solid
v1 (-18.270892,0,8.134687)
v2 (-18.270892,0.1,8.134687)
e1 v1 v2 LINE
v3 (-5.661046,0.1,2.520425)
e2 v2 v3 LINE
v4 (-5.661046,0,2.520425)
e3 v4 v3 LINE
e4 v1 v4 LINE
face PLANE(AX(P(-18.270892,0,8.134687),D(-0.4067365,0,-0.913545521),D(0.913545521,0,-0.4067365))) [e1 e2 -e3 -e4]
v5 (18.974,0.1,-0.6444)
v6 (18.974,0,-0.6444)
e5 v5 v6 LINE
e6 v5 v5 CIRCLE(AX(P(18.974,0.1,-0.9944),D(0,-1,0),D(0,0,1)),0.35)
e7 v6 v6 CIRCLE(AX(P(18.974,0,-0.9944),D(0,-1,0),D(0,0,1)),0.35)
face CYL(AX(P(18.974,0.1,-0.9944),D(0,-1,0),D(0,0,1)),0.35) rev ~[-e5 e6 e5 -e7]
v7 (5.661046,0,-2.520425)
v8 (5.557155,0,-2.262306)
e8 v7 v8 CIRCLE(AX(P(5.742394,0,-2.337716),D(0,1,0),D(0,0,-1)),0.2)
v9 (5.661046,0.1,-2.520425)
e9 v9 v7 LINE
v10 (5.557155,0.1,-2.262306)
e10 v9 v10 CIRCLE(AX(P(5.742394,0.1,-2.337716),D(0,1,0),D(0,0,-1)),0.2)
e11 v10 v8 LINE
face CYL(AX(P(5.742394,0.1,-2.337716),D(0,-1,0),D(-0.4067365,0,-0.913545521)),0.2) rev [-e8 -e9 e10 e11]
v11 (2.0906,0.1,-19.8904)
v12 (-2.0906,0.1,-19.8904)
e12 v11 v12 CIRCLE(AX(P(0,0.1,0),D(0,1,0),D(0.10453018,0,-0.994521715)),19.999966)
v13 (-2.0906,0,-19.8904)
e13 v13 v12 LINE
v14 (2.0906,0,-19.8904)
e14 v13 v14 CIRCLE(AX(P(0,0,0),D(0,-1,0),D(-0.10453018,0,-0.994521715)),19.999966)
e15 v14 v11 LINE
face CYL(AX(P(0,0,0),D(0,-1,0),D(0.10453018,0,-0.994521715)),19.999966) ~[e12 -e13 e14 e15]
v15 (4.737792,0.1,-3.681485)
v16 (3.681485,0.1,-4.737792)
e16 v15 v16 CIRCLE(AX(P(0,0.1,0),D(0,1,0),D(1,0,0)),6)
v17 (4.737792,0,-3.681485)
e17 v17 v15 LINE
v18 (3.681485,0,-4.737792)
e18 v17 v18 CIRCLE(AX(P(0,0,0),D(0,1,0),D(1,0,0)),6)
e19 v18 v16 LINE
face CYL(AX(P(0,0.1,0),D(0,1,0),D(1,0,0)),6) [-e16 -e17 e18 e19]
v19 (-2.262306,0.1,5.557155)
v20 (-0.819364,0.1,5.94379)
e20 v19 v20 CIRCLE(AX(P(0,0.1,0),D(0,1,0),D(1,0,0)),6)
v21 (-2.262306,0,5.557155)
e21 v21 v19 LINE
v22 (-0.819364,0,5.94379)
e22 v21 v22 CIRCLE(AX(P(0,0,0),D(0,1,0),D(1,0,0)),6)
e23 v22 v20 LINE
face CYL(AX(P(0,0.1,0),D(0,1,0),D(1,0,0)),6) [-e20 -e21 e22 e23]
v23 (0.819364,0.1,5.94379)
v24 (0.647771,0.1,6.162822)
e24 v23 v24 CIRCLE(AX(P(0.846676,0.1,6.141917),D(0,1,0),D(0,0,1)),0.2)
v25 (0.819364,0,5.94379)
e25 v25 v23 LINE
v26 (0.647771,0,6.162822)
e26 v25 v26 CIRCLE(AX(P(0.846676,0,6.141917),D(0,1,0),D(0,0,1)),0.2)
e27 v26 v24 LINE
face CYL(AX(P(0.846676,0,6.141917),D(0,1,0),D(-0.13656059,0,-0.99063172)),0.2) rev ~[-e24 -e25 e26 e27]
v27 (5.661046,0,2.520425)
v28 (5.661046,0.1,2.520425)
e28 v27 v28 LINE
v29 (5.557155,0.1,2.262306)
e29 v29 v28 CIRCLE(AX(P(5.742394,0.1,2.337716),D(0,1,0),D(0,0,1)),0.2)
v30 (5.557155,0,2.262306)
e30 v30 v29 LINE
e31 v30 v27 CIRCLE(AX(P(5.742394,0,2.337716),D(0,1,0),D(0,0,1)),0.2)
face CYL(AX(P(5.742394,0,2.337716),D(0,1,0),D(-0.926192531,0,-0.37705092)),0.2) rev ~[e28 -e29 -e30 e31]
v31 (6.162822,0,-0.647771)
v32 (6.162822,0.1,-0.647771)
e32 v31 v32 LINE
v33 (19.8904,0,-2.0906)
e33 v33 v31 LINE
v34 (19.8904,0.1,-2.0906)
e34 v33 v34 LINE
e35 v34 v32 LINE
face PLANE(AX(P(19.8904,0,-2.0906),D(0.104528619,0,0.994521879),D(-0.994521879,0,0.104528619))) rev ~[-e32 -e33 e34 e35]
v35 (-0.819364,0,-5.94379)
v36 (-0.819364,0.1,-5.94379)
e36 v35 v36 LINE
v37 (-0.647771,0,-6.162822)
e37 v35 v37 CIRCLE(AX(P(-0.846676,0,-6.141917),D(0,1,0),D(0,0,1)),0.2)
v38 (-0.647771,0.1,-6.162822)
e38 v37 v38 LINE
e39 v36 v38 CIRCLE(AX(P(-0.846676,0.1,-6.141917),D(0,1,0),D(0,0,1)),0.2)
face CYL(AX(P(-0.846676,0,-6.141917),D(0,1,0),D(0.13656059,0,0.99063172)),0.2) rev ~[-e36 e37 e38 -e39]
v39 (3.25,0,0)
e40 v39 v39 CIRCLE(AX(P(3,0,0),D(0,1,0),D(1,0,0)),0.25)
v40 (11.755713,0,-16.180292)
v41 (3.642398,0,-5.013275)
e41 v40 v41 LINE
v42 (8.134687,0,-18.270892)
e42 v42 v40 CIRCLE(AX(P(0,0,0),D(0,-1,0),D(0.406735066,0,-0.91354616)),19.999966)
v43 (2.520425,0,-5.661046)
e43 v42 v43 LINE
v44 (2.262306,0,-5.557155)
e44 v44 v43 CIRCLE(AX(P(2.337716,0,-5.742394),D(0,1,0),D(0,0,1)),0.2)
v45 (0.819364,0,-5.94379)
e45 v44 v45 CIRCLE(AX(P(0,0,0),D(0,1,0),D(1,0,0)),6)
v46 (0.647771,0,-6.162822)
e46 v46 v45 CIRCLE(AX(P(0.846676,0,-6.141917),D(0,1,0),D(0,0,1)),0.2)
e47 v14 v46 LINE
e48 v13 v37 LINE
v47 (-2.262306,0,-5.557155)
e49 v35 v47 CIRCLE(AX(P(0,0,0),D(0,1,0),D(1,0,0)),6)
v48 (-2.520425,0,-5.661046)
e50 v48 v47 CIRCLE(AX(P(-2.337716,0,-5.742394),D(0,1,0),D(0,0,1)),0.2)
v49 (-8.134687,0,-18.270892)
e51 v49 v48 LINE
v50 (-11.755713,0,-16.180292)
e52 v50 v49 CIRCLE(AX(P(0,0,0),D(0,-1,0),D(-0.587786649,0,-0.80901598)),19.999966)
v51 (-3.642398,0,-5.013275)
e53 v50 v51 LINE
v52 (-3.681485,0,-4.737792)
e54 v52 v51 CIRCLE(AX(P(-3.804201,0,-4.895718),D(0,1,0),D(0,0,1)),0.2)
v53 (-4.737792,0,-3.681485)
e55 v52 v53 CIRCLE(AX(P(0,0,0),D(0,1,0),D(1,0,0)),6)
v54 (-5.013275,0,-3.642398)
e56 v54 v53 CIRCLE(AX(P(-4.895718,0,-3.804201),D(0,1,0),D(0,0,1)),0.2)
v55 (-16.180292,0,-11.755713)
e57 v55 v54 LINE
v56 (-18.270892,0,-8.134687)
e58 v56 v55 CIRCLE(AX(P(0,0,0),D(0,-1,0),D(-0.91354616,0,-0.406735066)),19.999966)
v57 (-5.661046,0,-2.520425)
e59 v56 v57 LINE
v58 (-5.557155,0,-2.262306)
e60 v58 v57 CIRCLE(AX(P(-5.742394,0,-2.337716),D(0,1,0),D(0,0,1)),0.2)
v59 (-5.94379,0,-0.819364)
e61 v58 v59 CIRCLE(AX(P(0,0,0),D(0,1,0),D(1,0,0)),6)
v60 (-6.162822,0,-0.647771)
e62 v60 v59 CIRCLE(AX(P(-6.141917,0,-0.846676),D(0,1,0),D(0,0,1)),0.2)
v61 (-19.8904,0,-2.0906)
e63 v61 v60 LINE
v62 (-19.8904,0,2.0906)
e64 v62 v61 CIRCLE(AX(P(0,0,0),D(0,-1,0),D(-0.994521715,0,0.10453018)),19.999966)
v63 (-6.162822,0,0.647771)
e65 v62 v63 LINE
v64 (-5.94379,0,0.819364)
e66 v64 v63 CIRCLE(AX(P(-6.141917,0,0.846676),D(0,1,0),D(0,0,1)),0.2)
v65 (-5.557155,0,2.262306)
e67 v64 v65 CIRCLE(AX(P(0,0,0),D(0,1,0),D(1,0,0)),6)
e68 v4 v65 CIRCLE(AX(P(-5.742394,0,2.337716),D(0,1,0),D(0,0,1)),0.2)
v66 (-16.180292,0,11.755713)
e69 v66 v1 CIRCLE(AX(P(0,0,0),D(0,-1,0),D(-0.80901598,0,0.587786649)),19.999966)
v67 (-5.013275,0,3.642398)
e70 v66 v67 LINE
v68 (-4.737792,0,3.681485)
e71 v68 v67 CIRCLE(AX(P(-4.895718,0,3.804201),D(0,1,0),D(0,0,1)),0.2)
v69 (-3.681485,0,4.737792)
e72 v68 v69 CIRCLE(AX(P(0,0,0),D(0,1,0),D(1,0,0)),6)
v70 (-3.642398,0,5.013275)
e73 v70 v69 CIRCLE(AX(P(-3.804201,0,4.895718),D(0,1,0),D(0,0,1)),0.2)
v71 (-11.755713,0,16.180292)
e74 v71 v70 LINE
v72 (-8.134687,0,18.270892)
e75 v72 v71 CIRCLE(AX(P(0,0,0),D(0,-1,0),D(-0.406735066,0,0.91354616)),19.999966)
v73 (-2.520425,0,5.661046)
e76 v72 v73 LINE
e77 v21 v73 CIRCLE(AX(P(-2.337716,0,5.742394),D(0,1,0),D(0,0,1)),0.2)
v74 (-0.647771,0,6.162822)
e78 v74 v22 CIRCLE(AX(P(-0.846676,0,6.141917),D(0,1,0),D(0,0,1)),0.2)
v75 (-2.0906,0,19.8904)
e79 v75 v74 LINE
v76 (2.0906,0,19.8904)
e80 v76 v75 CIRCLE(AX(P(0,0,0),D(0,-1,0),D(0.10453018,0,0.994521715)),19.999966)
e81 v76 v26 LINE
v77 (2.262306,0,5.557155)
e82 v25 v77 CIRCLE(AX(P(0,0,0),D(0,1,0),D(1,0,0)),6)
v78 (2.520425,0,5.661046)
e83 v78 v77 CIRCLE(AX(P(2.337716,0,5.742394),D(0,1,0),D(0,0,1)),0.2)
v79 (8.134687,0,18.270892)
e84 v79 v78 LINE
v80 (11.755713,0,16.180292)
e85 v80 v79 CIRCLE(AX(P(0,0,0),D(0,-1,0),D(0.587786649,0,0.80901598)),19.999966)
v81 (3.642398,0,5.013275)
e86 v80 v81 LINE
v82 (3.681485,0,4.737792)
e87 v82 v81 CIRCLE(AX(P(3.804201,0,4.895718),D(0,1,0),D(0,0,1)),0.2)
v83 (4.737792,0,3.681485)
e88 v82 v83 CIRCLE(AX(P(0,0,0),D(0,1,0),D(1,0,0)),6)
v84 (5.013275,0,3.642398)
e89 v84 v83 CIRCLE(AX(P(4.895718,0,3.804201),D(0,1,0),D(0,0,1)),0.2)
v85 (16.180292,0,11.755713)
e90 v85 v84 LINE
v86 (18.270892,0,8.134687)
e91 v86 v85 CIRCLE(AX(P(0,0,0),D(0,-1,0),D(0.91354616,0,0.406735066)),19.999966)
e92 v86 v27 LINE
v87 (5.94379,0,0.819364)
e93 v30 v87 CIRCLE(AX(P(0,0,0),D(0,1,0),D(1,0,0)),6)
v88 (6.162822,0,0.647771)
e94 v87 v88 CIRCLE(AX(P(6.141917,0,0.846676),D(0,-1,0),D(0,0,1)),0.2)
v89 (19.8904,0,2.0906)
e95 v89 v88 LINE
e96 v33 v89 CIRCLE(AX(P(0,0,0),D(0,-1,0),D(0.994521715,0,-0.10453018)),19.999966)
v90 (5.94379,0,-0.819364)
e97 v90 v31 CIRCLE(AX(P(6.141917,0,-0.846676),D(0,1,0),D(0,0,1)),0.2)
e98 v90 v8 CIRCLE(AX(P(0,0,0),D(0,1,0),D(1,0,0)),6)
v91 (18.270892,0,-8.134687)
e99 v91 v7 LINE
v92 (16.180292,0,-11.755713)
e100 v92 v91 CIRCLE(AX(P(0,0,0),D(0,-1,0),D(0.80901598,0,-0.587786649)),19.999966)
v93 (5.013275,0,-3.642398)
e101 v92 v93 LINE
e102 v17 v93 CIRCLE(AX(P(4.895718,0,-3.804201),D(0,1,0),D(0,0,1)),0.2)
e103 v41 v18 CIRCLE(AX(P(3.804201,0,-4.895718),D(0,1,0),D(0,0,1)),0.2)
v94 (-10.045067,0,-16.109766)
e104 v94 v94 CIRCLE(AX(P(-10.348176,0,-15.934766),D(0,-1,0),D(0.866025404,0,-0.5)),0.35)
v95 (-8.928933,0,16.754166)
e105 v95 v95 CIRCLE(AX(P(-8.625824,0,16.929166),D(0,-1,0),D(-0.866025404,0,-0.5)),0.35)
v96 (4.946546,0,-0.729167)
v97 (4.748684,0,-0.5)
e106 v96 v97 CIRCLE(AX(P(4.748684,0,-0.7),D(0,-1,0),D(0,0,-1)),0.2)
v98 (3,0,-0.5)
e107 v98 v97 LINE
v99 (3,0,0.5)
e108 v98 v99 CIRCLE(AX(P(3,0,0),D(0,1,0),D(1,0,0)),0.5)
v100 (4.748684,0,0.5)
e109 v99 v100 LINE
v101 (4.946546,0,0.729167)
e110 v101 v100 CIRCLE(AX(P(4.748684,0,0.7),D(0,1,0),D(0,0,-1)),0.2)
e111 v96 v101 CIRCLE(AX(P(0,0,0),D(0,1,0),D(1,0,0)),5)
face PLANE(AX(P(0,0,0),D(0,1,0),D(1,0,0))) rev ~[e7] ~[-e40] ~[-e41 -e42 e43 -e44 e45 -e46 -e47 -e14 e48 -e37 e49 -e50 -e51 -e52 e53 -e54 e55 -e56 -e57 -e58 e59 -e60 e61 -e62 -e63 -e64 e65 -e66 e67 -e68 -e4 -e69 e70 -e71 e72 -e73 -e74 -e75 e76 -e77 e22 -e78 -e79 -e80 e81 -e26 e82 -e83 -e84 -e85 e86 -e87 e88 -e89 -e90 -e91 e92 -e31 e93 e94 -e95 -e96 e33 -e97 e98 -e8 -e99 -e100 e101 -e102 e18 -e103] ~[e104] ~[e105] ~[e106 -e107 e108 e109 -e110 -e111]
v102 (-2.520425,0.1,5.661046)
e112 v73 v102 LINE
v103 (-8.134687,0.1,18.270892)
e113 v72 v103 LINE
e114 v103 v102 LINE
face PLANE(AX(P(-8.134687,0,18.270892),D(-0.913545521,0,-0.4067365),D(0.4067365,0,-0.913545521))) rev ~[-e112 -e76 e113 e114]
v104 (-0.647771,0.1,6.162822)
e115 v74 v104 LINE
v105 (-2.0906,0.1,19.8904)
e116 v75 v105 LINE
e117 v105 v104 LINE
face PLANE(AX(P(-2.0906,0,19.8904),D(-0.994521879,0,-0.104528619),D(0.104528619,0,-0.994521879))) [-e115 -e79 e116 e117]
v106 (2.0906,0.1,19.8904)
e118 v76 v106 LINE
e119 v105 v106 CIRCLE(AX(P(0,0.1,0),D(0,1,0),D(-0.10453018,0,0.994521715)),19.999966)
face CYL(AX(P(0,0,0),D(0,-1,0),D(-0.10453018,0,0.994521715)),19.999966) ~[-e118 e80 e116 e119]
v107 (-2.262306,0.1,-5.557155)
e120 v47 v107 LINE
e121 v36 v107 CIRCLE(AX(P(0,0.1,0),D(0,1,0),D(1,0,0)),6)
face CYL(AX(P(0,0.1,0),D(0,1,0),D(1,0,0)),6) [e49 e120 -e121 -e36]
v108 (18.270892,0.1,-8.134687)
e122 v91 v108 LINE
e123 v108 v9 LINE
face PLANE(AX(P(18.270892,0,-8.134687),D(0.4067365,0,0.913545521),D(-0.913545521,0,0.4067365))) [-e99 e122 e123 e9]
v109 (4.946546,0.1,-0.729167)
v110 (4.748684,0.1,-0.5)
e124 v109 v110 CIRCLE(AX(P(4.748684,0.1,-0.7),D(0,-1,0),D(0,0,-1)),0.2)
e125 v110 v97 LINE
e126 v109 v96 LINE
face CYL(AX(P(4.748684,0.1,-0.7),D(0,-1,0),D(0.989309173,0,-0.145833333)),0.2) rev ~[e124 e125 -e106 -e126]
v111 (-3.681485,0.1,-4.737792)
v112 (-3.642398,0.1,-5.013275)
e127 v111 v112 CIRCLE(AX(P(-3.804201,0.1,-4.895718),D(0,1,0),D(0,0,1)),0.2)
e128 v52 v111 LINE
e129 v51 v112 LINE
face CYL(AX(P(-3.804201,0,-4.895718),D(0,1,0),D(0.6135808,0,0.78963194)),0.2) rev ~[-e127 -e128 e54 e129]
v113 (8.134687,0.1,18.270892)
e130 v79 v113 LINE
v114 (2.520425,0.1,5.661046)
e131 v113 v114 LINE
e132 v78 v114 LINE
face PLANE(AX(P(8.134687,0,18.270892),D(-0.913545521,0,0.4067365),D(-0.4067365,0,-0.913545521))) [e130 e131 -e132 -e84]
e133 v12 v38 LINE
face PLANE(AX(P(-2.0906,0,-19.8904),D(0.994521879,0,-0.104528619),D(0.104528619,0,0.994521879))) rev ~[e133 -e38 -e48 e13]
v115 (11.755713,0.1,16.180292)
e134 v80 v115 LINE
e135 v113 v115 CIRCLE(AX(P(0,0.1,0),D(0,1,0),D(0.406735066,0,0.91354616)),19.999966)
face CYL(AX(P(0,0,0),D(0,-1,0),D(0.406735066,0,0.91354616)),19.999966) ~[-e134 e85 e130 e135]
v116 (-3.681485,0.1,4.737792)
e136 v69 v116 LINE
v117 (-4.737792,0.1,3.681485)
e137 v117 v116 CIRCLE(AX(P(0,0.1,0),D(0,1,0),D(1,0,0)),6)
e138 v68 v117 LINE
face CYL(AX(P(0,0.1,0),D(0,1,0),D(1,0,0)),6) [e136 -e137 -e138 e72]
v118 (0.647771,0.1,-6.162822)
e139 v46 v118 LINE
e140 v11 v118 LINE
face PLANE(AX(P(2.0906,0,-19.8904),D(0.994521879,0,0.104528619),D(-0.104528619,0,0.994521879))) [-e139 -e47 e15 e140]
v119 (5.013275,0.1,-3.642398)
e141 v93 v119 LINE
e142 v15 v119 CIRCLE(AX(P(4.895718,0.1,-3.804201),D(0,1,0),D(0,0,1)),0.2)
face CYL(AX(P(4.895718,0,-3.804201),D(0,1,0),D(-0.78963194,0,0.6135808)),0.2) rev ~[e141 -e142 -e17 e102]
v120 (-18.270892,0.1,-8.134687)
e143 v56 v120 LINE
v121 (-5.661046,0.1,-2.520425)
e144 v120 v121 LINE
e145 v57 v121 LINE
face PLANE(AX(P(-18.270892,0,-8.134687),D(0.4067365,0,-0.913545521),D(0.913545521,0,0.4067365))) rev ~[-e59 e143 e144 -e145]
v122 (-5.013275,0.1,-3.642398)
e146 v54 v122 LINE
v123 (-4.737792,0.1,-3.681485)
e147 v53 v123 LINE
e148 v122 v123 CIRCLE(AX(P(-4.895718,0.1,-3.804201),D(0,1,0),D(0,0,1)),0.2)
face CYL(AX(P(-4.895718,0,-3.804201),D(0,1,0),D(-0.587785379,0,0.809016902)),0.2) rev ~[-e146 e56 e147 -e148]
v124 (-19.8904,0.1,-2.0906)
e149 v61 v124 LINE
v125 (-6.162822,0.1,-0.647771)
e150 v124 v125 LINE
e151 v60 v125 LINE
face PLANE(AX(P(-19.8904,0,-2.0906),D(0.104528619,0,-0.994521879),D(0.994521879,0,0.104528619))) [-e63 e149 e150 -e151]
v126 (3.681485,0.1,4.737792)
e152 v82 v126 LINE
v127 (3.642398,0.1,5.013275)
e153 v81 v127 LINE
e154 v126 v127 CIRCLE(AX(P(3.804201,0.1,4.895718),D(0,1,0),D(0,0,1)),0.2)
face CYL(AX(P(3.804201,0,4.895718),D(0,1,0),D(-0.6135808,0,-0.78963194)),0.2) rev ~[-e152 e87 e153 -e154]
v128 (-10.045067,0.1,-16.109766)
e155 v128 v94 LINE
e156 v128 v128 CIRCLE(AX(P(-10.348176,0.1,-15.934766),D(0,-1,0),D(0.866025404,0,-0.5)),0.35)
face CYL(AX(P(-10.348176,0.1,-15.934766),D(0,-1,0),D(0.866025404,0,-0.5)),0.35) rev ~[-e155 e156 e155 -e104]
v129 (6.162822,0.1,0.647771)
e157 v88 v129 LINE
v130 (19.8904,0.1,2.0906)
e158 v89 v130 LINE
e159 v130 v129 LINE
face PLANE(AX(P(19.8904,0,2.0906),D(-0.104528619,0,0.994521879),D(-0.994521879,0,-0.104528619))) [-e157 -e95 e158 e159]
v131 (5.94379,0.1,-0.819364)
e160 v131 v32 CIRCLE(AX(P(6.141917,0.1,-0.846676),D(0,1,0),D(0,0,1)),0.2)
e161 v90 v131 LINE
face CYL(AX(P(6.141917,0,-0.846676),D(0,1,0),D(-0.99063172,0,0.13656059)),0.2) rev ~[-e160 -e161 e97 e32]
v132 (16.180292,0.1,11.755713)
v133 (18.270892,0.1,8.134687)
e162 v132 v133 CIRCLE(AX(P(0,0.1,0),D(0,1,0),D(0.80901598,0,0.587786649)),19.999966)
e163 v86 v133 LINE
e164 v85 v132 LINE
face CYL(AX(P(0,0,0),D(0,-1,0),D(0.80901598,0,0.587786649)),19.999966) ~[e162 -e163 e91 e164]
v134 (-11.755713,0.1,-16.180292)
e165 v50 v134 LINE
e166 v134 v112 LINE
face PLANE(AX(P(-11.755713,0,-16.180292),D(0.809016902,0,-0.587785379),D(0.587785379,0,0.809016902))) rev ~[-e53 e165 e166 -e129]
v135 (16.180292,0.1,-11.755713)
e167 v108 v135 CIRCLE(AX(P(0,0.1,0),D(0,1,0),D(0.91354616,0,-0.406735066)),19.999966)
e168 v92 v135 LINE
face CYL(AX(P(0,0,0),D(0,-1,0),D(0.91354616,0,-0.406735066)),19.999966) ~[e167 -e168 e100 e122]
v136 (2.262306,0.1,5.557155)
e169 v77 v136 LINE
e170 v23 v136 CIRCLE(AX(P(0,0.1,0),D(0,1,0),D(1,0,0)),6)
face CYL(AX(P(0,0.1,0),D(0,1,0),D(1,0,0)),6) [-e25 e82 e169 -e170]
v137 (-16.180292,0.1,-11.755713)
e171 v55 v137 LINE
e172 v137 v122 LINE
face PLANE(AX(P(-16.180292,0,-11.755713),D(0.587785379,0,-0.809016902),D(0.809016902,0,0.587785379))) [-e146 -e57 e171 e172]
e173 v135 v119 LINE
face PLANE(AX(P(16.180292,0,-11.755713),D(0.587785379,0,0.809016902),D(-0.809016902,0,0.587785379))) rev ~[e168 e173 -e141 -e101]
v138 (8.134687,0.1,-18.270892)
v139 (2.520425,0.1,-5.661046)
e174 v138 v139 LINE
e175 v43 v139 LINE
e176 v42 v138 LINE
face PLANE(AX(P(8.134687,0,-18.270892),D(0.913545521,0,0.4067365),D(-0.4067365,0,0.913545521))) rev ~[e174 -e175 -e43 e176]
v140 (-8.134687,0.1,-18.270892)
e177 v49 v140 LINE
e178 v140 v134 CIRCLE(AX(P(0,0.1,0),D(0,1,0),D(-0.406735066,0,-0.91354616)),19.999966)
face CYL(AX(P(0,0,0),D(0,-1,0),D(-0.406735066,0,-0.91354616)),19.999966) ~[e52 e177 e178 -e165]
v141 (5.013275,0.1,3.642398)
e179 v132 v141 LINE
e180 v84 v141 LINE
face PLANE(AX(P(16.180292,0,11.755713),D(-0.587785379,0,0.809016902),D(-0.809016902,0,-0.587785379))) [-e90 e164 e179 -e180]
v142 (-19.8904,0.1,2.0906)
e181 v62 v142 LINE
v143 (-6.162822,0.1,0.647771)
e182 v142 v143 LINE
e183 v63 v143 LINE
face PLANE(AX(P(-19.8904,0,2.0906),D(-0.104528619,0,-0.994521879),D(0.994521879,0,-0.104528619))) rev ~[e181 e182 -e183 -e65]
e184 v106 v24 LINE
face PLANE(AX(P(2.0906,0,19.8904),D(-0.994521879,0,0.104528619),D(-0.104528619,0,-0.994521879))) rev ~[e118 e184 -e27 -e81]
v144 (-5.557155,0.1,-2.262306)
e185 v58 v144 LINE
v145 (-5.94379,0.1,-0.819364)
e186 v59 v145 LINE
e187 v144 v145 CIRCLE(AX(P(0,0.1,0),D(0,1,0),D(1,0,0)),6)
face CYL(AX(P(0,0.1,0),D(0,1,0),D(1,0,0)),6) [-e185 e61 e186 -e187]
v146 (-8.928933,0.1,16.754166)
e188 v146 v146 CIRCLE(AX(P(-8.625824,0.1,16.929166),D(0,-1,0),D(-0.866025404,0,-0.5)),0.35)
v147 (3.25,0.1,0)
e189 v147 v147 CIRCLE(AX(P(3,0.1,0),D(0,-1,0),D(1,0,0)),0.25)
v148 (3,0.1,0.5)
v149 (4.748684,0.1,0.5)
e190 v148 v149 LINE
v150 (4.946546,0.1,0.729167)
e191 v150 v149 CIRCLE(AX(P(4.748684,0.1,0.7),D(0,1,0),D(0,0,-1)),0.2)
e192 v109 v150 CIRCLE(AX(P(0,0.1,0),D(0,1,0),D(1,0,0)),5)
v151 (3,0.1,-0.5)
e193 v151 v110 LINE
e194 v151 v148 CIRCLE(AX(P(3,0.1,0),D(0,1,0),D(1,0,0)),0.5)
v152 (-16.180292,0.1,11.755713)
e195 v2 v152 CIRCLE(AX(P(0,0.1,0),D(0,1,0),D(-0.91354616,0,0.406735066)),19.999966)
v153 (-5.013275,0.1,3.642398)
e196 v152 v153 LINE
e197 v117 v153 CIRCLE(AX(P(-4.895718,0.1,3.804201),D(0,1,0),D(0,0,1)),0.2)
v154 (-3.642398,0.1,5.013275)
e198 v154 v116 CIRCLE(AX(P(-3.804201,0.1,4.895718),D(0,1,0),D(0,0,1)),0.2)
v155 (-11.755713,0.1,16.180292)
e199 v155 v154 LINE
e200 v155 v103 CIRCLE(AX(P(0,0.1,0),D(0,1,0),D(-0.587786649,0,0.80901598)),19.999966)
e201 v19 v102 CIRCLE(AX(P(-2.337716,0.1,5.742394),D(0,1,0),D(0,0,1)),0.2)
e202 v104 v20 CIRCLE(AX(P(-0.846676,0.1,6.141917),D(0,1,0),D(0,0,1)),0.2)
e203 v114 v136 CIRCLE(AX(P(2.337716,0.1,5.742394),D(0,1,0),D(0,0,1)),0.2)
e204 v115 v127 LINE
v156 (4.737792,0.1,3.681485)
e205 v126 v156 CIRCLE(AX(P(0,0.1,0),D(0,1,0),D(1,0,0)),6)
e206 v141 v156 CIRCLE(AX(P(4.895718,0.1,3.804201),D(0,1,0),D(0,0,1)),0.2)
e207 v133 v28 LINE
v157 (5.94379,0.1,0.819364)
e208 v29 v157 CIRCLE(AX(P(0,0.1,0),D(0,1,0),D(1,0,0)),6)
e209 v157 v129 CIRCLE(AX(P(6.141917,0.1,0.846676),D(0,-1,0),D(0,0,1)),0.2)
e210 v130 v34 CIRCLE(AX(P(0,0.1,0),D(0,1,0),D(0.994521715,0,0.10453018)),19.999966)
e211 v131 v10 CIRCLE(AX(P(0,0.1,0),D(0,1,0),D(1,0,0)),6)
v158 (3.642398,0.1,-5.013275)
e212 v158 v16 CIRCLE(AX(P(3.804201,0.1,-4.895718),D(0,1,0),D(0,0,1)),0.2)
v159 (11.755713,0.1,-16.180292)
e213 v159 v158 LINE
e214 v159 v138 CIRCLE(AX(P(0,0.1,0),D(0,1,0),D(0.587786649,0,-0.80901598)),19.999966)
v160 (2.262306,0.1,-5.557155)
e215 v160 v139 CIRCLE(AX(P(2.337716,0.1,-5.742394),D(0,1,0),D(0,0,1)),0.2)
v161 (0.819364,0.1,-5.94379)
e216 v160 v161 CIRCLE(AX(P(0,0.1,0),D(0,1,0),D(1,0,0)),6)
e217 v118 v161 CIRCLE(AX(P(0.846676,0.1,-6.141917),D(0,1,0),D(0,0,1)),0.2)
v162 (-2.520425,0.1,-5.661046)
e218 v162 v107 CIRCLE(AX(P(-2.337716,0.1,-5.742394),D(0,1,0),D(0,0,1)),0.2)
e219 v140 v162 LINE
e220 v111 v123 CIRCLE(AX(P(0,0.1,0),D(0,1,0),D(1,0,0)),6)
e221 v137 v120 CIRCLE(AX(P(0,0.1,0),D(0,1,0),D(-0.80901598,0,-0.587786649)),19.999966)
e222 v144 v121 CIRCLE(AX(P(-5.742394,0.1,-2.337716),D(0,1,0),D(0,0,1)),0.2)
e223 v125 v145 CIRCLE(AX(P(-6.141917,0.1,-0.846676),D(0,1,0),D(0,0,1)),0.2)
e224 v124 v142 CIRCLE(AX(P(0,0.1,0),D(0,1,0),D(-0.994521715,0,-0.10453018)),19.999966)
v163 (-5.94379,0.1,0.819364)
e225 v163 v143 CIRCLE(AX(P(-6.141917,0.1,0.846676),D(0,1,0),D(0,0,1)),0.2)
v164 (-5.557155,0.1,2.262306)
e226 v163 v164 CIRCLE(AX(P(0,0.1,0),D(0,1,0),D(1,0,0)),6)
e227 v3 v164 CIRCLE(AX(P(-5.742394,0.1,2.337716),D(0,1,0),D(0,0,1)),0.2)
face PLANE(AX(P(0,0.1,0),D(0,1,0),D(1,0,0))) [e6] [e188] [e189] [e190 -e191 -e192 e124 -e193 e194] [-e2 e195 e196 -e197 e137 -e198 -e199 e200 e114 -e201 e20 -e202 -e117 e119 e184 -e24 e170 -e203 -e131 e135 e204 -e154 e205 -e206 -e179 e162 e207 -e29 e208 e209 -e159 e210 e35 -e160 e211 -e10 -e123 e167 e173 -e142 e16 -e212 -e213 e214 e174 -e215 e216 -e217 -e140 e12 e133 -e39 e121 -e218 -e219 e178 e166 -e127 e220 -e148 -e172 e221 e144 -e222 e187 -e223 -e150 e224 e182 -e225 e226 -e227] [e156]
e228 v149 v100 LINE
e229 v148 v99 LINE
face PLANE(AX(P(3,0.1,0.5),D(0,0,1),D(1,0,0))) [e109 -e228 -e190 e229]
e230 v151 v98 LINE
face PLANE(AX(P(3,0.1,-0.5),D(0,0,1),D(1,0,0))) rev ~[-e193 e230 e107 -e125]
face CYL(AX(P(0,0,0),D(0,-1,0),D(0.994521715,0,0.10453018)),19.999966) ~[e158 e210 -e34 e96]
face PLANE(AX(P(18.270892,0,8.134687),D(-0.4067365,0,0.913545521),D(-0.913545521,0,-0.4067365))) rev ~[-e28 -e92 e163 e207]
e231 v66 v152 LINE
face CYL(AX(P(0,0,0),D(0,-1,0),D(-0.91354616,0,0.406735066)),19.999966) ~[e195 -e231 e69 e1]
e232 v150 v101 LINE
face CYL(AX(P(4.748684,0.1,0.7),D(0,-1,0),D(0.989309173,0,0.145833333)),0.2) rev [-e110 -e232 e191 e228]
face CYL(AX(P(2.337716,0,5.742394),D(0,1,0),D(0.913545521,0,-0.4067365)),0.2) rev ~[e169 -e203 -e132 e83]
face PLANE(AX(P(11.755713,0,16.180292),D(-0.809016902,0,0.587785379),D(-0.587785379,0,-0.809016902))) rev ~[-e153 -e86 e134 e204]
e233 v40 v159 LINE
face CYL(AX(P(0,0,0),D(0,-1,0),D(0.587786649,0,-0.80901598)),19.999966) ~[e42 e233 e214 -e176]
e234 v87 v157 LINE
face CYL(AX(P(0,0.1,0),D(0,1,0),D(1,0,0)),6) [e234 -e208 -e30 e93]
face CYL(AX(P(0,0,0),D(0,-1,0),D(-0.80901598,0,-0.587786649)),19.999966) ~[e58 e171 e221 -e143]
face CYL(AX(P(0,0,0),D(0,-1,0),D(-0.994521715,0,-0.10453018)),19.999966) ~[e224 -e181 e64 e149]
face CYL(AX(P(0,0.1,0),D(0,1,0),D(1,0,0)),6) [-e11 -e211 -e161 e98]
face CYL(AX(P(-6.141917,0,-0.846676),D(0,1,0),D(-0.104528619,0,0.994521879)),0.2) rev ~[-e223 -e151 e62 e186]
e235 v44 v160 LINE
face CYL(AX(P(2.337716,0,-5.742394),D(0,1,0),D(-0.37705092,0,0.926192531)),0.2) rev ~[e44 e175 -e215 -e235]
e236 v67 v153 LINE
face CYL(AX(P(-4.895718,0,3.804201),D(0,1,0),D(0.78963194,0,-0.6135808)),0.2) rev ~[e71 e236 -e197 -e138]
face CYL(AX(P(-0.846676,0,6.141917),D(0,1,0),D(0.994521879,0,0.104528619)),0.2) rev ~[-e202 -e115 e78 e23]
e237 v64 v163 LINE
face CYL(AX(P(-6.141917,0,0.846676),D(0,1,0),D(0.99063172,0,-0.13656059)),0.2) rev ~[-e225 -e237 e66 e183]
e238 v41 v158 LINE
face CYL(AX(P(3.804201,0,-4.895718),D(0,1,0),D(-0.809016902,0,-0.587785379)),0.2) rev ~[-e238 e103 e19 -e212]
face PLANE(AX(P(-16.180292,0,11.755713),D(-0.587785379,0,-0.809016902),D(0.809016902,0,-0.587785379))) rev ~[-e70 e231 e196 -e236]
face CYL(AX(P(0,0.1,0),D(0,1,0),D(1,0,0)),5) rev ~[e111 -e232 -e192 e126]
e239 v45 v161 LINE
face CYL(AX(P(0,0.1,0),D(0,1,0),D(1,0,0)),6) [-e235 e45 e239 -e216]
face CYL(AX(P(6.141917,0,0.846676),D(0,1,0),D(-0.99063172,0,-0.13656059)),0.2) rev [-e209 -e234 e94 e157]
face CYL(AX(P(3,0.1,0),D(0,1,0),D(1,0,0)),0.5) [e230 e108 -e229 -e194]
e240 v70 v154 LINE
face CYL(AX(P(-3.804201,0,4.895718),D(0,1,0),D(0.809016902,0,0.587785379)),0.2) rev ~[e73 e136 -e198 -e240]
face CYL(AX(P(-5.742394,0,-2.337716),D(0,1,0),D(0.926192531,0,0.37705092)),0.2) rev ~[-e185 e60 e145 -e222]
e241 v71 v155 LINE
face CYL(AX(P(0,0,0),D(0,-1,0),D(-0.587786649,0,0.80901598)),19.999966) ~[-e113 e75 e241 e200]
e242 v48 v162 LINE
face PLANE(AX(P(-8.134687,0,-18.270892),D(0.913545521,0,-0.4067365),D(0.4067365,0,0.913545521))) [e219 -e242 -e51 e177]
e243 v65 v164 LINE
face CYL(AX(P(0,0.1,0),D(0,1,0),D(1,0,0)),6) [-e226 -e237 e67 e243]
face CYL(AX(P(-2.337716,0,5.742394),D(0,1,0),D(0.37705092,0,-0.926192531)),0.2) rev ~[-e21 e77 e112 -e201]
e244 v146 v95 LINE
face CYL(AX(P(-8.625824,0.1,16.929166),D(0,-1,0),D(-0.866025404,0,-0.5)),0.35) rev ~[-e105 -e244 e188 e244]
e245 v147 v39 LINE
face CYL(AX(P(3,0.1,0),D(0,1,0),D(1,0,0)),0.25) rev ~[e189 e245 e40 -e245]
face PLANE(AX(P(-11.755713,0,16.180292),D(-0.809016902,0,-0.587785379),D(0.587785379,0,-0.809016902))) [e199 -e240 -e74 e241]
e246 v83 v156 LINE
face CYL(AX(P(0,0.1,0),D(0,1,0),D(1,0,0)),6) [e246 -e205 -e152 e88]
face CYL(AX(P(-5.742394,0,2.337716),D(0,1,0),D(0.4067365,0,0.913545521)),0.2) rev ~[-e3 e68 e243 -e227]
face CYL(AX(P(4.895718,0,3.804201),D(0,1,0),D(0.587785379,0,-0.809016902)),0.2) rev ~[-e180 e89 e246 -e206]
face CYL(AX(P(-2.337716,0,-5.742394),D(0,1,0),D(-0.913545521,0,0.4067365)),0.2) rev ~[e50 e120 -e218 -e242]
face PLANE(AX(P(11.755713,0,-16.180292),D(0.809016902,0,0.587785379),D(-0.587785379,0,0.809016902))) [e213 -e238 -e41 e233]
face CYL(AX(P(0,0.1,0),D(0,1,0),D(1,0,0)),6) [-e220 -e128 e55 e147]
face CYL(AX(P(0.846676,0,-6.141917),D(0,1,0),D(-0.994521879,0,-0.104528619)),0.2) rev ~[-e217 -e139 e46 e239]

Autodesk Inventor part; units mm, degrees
ref_plane "YZ Plane" through (0, 0, 0) normal (1, 0, 0) x (0, 1, 0)
ref_plane "XZ Plane" through (0, 0, 0) normal (0, 1, 0) x (-1, 0, 0)
ref_plane "XY Plane" through (0, 0, 0) normal (0, 0, 1) x (1, 0, 0)
sketch "Sketch4" plane through (0, 0, 0) normal (0, 1, 0) x (-1, 0, 0)
  circle A0 centre (0, 0) radius 6 construction
  circle A1 centre (0, 0) radius 20 construction
  line L0 (0, 0) -> (-19.8904, -2.0906) construction
  line L1 (0, 0) -> (-19.8904, 2.0906) construction
  line L2 (28, 0) -> (-28, 0) projected
  arc A2 (-19.8904, 2.0906) -> (-19.8904, -2.0906) centre (0, 0) ccw
  line L3 (-19.8904, 2.0906) -> (-5.9671, 0.6272)
  line L4 (-19.8904, -2.0906) -> (-5.9671, -0.6272)
  arc A3 (-5.9671, 0.6272) -> (-5.9671, -0.6272) centre (0, 0) ccw
  dimension "d38" = 12
  dimension "d39" = 40
  dimension "d41" = 6
  dimension "d42" = 6
extrude "Extrusion5" add sketch "Sketch4" along normal blind 0.1
pattern_circular "Circular Pattern1" count 12 over 360 about axis through (0, -10, 0) along (0, 1, 0) of "Extrusion5"
sketch "Sketch5" plane through (0, 0.1, 0) normal (0, 1, 0) x (1, 0, 0)
  arc A0 (5.4813, 2.4404) -> (4.8541, 3.5267) centre (0, 0) ccw projected
  arc A1 (5.9671, -0.6272) -> (5.9671, 0.6272) centre (0, 0) ccw projected
  circle A2 centre (0, 0) radius 6
  circle A3 centre (0, 0) radius 5
  point P0 (4.8541, 3.5267)
  point P1 (5.9671, 0.6272)
  point P2 (5.4813, 2.4404)
  dimension "d48" = 1
extrude "Extrusion6" add sketch "Sketch5" against normal blind 0.1
sketch "Sketch7" plane through (0, 0.1, 0) normal (0, 1, 0) x (1, 0, 0)
  circle A0 centre (0, 0) radius 19 construction
  point P0 (18.974, 0.9944)
  point P1 (19, 0)
  dimension "d55" = 38
  dimension "d56" = 3
hole "Hole1" at (18.974, 0.1, -0.9944) direction (0, -1, 0) diameter 0.7 end through all
pattern_circular "Circular Pattern2" count 3 over 360 about axis through (0, -10, 0) along (0, 1, 0) of "Hole1"
sketch "Sketch8" plane through (0, 0.1, 0) normal (0, 1, 0) x (1, 0, 0)
  circle A0 centre (0, 0) radius 2.5 construction
  circle A1 centre (0, 0) radius 5 projected
  line L0 (5, 0) -> (3, 0)
  line L1 (3, 0) -> (3, 0.5)
  line L2 (3, 0.5) -> (5, 0.5)
  line L3 (5, 0.5) -> (5, 0)
  line L4 (5, 0) -> (3, 0)
  line L5 (3, 0) -> (3, -0.5)
  line L6 (3, -0.5) -> (5, -0.5)
  line L7 (5, -0.5) -> (5, 0)
  circle A2 centre (3, 0) radius 0.5
  circle A3 centre (3, 0) radius 0.25
  point P0 (4.9749, -0.5)
  point P1 (4.9749, 0.5)
  dimension "d67" = 5
  dimension "d68" = 2
  dimension "d69" = 0.5
  dimension "d70" = 0.5
  dimension "d71" = 0.5
extrude "Extrusion8" add sketch "Sketch8" against normal blind 0.1 contours L0 A2 L2 A1 | A1 L6 A2 L0 | A2 L5 A3 L0 | L0 A3 L1 A2 | L1 A3 L5 A2
fillet "Fillet5" radius 0.2 2 edges at (5.9671, 0.05, 0.6272) (5.9671, 0.05, -0.6272)
pattern_circular "Circular Pattern3" count 12 over 360 about axis through (0, 0.1, 0) along (0, -1, 0) of "Fillet5"
fillet "Fillet6" radius 0.2 2 edges at (4.9749, 0.05, -0.5) (4.9749, 0.05, 0.5)
equation "\"d42\" = d41"
properties part number "torsosc-electrode-pcb-cu" material "Copper"
